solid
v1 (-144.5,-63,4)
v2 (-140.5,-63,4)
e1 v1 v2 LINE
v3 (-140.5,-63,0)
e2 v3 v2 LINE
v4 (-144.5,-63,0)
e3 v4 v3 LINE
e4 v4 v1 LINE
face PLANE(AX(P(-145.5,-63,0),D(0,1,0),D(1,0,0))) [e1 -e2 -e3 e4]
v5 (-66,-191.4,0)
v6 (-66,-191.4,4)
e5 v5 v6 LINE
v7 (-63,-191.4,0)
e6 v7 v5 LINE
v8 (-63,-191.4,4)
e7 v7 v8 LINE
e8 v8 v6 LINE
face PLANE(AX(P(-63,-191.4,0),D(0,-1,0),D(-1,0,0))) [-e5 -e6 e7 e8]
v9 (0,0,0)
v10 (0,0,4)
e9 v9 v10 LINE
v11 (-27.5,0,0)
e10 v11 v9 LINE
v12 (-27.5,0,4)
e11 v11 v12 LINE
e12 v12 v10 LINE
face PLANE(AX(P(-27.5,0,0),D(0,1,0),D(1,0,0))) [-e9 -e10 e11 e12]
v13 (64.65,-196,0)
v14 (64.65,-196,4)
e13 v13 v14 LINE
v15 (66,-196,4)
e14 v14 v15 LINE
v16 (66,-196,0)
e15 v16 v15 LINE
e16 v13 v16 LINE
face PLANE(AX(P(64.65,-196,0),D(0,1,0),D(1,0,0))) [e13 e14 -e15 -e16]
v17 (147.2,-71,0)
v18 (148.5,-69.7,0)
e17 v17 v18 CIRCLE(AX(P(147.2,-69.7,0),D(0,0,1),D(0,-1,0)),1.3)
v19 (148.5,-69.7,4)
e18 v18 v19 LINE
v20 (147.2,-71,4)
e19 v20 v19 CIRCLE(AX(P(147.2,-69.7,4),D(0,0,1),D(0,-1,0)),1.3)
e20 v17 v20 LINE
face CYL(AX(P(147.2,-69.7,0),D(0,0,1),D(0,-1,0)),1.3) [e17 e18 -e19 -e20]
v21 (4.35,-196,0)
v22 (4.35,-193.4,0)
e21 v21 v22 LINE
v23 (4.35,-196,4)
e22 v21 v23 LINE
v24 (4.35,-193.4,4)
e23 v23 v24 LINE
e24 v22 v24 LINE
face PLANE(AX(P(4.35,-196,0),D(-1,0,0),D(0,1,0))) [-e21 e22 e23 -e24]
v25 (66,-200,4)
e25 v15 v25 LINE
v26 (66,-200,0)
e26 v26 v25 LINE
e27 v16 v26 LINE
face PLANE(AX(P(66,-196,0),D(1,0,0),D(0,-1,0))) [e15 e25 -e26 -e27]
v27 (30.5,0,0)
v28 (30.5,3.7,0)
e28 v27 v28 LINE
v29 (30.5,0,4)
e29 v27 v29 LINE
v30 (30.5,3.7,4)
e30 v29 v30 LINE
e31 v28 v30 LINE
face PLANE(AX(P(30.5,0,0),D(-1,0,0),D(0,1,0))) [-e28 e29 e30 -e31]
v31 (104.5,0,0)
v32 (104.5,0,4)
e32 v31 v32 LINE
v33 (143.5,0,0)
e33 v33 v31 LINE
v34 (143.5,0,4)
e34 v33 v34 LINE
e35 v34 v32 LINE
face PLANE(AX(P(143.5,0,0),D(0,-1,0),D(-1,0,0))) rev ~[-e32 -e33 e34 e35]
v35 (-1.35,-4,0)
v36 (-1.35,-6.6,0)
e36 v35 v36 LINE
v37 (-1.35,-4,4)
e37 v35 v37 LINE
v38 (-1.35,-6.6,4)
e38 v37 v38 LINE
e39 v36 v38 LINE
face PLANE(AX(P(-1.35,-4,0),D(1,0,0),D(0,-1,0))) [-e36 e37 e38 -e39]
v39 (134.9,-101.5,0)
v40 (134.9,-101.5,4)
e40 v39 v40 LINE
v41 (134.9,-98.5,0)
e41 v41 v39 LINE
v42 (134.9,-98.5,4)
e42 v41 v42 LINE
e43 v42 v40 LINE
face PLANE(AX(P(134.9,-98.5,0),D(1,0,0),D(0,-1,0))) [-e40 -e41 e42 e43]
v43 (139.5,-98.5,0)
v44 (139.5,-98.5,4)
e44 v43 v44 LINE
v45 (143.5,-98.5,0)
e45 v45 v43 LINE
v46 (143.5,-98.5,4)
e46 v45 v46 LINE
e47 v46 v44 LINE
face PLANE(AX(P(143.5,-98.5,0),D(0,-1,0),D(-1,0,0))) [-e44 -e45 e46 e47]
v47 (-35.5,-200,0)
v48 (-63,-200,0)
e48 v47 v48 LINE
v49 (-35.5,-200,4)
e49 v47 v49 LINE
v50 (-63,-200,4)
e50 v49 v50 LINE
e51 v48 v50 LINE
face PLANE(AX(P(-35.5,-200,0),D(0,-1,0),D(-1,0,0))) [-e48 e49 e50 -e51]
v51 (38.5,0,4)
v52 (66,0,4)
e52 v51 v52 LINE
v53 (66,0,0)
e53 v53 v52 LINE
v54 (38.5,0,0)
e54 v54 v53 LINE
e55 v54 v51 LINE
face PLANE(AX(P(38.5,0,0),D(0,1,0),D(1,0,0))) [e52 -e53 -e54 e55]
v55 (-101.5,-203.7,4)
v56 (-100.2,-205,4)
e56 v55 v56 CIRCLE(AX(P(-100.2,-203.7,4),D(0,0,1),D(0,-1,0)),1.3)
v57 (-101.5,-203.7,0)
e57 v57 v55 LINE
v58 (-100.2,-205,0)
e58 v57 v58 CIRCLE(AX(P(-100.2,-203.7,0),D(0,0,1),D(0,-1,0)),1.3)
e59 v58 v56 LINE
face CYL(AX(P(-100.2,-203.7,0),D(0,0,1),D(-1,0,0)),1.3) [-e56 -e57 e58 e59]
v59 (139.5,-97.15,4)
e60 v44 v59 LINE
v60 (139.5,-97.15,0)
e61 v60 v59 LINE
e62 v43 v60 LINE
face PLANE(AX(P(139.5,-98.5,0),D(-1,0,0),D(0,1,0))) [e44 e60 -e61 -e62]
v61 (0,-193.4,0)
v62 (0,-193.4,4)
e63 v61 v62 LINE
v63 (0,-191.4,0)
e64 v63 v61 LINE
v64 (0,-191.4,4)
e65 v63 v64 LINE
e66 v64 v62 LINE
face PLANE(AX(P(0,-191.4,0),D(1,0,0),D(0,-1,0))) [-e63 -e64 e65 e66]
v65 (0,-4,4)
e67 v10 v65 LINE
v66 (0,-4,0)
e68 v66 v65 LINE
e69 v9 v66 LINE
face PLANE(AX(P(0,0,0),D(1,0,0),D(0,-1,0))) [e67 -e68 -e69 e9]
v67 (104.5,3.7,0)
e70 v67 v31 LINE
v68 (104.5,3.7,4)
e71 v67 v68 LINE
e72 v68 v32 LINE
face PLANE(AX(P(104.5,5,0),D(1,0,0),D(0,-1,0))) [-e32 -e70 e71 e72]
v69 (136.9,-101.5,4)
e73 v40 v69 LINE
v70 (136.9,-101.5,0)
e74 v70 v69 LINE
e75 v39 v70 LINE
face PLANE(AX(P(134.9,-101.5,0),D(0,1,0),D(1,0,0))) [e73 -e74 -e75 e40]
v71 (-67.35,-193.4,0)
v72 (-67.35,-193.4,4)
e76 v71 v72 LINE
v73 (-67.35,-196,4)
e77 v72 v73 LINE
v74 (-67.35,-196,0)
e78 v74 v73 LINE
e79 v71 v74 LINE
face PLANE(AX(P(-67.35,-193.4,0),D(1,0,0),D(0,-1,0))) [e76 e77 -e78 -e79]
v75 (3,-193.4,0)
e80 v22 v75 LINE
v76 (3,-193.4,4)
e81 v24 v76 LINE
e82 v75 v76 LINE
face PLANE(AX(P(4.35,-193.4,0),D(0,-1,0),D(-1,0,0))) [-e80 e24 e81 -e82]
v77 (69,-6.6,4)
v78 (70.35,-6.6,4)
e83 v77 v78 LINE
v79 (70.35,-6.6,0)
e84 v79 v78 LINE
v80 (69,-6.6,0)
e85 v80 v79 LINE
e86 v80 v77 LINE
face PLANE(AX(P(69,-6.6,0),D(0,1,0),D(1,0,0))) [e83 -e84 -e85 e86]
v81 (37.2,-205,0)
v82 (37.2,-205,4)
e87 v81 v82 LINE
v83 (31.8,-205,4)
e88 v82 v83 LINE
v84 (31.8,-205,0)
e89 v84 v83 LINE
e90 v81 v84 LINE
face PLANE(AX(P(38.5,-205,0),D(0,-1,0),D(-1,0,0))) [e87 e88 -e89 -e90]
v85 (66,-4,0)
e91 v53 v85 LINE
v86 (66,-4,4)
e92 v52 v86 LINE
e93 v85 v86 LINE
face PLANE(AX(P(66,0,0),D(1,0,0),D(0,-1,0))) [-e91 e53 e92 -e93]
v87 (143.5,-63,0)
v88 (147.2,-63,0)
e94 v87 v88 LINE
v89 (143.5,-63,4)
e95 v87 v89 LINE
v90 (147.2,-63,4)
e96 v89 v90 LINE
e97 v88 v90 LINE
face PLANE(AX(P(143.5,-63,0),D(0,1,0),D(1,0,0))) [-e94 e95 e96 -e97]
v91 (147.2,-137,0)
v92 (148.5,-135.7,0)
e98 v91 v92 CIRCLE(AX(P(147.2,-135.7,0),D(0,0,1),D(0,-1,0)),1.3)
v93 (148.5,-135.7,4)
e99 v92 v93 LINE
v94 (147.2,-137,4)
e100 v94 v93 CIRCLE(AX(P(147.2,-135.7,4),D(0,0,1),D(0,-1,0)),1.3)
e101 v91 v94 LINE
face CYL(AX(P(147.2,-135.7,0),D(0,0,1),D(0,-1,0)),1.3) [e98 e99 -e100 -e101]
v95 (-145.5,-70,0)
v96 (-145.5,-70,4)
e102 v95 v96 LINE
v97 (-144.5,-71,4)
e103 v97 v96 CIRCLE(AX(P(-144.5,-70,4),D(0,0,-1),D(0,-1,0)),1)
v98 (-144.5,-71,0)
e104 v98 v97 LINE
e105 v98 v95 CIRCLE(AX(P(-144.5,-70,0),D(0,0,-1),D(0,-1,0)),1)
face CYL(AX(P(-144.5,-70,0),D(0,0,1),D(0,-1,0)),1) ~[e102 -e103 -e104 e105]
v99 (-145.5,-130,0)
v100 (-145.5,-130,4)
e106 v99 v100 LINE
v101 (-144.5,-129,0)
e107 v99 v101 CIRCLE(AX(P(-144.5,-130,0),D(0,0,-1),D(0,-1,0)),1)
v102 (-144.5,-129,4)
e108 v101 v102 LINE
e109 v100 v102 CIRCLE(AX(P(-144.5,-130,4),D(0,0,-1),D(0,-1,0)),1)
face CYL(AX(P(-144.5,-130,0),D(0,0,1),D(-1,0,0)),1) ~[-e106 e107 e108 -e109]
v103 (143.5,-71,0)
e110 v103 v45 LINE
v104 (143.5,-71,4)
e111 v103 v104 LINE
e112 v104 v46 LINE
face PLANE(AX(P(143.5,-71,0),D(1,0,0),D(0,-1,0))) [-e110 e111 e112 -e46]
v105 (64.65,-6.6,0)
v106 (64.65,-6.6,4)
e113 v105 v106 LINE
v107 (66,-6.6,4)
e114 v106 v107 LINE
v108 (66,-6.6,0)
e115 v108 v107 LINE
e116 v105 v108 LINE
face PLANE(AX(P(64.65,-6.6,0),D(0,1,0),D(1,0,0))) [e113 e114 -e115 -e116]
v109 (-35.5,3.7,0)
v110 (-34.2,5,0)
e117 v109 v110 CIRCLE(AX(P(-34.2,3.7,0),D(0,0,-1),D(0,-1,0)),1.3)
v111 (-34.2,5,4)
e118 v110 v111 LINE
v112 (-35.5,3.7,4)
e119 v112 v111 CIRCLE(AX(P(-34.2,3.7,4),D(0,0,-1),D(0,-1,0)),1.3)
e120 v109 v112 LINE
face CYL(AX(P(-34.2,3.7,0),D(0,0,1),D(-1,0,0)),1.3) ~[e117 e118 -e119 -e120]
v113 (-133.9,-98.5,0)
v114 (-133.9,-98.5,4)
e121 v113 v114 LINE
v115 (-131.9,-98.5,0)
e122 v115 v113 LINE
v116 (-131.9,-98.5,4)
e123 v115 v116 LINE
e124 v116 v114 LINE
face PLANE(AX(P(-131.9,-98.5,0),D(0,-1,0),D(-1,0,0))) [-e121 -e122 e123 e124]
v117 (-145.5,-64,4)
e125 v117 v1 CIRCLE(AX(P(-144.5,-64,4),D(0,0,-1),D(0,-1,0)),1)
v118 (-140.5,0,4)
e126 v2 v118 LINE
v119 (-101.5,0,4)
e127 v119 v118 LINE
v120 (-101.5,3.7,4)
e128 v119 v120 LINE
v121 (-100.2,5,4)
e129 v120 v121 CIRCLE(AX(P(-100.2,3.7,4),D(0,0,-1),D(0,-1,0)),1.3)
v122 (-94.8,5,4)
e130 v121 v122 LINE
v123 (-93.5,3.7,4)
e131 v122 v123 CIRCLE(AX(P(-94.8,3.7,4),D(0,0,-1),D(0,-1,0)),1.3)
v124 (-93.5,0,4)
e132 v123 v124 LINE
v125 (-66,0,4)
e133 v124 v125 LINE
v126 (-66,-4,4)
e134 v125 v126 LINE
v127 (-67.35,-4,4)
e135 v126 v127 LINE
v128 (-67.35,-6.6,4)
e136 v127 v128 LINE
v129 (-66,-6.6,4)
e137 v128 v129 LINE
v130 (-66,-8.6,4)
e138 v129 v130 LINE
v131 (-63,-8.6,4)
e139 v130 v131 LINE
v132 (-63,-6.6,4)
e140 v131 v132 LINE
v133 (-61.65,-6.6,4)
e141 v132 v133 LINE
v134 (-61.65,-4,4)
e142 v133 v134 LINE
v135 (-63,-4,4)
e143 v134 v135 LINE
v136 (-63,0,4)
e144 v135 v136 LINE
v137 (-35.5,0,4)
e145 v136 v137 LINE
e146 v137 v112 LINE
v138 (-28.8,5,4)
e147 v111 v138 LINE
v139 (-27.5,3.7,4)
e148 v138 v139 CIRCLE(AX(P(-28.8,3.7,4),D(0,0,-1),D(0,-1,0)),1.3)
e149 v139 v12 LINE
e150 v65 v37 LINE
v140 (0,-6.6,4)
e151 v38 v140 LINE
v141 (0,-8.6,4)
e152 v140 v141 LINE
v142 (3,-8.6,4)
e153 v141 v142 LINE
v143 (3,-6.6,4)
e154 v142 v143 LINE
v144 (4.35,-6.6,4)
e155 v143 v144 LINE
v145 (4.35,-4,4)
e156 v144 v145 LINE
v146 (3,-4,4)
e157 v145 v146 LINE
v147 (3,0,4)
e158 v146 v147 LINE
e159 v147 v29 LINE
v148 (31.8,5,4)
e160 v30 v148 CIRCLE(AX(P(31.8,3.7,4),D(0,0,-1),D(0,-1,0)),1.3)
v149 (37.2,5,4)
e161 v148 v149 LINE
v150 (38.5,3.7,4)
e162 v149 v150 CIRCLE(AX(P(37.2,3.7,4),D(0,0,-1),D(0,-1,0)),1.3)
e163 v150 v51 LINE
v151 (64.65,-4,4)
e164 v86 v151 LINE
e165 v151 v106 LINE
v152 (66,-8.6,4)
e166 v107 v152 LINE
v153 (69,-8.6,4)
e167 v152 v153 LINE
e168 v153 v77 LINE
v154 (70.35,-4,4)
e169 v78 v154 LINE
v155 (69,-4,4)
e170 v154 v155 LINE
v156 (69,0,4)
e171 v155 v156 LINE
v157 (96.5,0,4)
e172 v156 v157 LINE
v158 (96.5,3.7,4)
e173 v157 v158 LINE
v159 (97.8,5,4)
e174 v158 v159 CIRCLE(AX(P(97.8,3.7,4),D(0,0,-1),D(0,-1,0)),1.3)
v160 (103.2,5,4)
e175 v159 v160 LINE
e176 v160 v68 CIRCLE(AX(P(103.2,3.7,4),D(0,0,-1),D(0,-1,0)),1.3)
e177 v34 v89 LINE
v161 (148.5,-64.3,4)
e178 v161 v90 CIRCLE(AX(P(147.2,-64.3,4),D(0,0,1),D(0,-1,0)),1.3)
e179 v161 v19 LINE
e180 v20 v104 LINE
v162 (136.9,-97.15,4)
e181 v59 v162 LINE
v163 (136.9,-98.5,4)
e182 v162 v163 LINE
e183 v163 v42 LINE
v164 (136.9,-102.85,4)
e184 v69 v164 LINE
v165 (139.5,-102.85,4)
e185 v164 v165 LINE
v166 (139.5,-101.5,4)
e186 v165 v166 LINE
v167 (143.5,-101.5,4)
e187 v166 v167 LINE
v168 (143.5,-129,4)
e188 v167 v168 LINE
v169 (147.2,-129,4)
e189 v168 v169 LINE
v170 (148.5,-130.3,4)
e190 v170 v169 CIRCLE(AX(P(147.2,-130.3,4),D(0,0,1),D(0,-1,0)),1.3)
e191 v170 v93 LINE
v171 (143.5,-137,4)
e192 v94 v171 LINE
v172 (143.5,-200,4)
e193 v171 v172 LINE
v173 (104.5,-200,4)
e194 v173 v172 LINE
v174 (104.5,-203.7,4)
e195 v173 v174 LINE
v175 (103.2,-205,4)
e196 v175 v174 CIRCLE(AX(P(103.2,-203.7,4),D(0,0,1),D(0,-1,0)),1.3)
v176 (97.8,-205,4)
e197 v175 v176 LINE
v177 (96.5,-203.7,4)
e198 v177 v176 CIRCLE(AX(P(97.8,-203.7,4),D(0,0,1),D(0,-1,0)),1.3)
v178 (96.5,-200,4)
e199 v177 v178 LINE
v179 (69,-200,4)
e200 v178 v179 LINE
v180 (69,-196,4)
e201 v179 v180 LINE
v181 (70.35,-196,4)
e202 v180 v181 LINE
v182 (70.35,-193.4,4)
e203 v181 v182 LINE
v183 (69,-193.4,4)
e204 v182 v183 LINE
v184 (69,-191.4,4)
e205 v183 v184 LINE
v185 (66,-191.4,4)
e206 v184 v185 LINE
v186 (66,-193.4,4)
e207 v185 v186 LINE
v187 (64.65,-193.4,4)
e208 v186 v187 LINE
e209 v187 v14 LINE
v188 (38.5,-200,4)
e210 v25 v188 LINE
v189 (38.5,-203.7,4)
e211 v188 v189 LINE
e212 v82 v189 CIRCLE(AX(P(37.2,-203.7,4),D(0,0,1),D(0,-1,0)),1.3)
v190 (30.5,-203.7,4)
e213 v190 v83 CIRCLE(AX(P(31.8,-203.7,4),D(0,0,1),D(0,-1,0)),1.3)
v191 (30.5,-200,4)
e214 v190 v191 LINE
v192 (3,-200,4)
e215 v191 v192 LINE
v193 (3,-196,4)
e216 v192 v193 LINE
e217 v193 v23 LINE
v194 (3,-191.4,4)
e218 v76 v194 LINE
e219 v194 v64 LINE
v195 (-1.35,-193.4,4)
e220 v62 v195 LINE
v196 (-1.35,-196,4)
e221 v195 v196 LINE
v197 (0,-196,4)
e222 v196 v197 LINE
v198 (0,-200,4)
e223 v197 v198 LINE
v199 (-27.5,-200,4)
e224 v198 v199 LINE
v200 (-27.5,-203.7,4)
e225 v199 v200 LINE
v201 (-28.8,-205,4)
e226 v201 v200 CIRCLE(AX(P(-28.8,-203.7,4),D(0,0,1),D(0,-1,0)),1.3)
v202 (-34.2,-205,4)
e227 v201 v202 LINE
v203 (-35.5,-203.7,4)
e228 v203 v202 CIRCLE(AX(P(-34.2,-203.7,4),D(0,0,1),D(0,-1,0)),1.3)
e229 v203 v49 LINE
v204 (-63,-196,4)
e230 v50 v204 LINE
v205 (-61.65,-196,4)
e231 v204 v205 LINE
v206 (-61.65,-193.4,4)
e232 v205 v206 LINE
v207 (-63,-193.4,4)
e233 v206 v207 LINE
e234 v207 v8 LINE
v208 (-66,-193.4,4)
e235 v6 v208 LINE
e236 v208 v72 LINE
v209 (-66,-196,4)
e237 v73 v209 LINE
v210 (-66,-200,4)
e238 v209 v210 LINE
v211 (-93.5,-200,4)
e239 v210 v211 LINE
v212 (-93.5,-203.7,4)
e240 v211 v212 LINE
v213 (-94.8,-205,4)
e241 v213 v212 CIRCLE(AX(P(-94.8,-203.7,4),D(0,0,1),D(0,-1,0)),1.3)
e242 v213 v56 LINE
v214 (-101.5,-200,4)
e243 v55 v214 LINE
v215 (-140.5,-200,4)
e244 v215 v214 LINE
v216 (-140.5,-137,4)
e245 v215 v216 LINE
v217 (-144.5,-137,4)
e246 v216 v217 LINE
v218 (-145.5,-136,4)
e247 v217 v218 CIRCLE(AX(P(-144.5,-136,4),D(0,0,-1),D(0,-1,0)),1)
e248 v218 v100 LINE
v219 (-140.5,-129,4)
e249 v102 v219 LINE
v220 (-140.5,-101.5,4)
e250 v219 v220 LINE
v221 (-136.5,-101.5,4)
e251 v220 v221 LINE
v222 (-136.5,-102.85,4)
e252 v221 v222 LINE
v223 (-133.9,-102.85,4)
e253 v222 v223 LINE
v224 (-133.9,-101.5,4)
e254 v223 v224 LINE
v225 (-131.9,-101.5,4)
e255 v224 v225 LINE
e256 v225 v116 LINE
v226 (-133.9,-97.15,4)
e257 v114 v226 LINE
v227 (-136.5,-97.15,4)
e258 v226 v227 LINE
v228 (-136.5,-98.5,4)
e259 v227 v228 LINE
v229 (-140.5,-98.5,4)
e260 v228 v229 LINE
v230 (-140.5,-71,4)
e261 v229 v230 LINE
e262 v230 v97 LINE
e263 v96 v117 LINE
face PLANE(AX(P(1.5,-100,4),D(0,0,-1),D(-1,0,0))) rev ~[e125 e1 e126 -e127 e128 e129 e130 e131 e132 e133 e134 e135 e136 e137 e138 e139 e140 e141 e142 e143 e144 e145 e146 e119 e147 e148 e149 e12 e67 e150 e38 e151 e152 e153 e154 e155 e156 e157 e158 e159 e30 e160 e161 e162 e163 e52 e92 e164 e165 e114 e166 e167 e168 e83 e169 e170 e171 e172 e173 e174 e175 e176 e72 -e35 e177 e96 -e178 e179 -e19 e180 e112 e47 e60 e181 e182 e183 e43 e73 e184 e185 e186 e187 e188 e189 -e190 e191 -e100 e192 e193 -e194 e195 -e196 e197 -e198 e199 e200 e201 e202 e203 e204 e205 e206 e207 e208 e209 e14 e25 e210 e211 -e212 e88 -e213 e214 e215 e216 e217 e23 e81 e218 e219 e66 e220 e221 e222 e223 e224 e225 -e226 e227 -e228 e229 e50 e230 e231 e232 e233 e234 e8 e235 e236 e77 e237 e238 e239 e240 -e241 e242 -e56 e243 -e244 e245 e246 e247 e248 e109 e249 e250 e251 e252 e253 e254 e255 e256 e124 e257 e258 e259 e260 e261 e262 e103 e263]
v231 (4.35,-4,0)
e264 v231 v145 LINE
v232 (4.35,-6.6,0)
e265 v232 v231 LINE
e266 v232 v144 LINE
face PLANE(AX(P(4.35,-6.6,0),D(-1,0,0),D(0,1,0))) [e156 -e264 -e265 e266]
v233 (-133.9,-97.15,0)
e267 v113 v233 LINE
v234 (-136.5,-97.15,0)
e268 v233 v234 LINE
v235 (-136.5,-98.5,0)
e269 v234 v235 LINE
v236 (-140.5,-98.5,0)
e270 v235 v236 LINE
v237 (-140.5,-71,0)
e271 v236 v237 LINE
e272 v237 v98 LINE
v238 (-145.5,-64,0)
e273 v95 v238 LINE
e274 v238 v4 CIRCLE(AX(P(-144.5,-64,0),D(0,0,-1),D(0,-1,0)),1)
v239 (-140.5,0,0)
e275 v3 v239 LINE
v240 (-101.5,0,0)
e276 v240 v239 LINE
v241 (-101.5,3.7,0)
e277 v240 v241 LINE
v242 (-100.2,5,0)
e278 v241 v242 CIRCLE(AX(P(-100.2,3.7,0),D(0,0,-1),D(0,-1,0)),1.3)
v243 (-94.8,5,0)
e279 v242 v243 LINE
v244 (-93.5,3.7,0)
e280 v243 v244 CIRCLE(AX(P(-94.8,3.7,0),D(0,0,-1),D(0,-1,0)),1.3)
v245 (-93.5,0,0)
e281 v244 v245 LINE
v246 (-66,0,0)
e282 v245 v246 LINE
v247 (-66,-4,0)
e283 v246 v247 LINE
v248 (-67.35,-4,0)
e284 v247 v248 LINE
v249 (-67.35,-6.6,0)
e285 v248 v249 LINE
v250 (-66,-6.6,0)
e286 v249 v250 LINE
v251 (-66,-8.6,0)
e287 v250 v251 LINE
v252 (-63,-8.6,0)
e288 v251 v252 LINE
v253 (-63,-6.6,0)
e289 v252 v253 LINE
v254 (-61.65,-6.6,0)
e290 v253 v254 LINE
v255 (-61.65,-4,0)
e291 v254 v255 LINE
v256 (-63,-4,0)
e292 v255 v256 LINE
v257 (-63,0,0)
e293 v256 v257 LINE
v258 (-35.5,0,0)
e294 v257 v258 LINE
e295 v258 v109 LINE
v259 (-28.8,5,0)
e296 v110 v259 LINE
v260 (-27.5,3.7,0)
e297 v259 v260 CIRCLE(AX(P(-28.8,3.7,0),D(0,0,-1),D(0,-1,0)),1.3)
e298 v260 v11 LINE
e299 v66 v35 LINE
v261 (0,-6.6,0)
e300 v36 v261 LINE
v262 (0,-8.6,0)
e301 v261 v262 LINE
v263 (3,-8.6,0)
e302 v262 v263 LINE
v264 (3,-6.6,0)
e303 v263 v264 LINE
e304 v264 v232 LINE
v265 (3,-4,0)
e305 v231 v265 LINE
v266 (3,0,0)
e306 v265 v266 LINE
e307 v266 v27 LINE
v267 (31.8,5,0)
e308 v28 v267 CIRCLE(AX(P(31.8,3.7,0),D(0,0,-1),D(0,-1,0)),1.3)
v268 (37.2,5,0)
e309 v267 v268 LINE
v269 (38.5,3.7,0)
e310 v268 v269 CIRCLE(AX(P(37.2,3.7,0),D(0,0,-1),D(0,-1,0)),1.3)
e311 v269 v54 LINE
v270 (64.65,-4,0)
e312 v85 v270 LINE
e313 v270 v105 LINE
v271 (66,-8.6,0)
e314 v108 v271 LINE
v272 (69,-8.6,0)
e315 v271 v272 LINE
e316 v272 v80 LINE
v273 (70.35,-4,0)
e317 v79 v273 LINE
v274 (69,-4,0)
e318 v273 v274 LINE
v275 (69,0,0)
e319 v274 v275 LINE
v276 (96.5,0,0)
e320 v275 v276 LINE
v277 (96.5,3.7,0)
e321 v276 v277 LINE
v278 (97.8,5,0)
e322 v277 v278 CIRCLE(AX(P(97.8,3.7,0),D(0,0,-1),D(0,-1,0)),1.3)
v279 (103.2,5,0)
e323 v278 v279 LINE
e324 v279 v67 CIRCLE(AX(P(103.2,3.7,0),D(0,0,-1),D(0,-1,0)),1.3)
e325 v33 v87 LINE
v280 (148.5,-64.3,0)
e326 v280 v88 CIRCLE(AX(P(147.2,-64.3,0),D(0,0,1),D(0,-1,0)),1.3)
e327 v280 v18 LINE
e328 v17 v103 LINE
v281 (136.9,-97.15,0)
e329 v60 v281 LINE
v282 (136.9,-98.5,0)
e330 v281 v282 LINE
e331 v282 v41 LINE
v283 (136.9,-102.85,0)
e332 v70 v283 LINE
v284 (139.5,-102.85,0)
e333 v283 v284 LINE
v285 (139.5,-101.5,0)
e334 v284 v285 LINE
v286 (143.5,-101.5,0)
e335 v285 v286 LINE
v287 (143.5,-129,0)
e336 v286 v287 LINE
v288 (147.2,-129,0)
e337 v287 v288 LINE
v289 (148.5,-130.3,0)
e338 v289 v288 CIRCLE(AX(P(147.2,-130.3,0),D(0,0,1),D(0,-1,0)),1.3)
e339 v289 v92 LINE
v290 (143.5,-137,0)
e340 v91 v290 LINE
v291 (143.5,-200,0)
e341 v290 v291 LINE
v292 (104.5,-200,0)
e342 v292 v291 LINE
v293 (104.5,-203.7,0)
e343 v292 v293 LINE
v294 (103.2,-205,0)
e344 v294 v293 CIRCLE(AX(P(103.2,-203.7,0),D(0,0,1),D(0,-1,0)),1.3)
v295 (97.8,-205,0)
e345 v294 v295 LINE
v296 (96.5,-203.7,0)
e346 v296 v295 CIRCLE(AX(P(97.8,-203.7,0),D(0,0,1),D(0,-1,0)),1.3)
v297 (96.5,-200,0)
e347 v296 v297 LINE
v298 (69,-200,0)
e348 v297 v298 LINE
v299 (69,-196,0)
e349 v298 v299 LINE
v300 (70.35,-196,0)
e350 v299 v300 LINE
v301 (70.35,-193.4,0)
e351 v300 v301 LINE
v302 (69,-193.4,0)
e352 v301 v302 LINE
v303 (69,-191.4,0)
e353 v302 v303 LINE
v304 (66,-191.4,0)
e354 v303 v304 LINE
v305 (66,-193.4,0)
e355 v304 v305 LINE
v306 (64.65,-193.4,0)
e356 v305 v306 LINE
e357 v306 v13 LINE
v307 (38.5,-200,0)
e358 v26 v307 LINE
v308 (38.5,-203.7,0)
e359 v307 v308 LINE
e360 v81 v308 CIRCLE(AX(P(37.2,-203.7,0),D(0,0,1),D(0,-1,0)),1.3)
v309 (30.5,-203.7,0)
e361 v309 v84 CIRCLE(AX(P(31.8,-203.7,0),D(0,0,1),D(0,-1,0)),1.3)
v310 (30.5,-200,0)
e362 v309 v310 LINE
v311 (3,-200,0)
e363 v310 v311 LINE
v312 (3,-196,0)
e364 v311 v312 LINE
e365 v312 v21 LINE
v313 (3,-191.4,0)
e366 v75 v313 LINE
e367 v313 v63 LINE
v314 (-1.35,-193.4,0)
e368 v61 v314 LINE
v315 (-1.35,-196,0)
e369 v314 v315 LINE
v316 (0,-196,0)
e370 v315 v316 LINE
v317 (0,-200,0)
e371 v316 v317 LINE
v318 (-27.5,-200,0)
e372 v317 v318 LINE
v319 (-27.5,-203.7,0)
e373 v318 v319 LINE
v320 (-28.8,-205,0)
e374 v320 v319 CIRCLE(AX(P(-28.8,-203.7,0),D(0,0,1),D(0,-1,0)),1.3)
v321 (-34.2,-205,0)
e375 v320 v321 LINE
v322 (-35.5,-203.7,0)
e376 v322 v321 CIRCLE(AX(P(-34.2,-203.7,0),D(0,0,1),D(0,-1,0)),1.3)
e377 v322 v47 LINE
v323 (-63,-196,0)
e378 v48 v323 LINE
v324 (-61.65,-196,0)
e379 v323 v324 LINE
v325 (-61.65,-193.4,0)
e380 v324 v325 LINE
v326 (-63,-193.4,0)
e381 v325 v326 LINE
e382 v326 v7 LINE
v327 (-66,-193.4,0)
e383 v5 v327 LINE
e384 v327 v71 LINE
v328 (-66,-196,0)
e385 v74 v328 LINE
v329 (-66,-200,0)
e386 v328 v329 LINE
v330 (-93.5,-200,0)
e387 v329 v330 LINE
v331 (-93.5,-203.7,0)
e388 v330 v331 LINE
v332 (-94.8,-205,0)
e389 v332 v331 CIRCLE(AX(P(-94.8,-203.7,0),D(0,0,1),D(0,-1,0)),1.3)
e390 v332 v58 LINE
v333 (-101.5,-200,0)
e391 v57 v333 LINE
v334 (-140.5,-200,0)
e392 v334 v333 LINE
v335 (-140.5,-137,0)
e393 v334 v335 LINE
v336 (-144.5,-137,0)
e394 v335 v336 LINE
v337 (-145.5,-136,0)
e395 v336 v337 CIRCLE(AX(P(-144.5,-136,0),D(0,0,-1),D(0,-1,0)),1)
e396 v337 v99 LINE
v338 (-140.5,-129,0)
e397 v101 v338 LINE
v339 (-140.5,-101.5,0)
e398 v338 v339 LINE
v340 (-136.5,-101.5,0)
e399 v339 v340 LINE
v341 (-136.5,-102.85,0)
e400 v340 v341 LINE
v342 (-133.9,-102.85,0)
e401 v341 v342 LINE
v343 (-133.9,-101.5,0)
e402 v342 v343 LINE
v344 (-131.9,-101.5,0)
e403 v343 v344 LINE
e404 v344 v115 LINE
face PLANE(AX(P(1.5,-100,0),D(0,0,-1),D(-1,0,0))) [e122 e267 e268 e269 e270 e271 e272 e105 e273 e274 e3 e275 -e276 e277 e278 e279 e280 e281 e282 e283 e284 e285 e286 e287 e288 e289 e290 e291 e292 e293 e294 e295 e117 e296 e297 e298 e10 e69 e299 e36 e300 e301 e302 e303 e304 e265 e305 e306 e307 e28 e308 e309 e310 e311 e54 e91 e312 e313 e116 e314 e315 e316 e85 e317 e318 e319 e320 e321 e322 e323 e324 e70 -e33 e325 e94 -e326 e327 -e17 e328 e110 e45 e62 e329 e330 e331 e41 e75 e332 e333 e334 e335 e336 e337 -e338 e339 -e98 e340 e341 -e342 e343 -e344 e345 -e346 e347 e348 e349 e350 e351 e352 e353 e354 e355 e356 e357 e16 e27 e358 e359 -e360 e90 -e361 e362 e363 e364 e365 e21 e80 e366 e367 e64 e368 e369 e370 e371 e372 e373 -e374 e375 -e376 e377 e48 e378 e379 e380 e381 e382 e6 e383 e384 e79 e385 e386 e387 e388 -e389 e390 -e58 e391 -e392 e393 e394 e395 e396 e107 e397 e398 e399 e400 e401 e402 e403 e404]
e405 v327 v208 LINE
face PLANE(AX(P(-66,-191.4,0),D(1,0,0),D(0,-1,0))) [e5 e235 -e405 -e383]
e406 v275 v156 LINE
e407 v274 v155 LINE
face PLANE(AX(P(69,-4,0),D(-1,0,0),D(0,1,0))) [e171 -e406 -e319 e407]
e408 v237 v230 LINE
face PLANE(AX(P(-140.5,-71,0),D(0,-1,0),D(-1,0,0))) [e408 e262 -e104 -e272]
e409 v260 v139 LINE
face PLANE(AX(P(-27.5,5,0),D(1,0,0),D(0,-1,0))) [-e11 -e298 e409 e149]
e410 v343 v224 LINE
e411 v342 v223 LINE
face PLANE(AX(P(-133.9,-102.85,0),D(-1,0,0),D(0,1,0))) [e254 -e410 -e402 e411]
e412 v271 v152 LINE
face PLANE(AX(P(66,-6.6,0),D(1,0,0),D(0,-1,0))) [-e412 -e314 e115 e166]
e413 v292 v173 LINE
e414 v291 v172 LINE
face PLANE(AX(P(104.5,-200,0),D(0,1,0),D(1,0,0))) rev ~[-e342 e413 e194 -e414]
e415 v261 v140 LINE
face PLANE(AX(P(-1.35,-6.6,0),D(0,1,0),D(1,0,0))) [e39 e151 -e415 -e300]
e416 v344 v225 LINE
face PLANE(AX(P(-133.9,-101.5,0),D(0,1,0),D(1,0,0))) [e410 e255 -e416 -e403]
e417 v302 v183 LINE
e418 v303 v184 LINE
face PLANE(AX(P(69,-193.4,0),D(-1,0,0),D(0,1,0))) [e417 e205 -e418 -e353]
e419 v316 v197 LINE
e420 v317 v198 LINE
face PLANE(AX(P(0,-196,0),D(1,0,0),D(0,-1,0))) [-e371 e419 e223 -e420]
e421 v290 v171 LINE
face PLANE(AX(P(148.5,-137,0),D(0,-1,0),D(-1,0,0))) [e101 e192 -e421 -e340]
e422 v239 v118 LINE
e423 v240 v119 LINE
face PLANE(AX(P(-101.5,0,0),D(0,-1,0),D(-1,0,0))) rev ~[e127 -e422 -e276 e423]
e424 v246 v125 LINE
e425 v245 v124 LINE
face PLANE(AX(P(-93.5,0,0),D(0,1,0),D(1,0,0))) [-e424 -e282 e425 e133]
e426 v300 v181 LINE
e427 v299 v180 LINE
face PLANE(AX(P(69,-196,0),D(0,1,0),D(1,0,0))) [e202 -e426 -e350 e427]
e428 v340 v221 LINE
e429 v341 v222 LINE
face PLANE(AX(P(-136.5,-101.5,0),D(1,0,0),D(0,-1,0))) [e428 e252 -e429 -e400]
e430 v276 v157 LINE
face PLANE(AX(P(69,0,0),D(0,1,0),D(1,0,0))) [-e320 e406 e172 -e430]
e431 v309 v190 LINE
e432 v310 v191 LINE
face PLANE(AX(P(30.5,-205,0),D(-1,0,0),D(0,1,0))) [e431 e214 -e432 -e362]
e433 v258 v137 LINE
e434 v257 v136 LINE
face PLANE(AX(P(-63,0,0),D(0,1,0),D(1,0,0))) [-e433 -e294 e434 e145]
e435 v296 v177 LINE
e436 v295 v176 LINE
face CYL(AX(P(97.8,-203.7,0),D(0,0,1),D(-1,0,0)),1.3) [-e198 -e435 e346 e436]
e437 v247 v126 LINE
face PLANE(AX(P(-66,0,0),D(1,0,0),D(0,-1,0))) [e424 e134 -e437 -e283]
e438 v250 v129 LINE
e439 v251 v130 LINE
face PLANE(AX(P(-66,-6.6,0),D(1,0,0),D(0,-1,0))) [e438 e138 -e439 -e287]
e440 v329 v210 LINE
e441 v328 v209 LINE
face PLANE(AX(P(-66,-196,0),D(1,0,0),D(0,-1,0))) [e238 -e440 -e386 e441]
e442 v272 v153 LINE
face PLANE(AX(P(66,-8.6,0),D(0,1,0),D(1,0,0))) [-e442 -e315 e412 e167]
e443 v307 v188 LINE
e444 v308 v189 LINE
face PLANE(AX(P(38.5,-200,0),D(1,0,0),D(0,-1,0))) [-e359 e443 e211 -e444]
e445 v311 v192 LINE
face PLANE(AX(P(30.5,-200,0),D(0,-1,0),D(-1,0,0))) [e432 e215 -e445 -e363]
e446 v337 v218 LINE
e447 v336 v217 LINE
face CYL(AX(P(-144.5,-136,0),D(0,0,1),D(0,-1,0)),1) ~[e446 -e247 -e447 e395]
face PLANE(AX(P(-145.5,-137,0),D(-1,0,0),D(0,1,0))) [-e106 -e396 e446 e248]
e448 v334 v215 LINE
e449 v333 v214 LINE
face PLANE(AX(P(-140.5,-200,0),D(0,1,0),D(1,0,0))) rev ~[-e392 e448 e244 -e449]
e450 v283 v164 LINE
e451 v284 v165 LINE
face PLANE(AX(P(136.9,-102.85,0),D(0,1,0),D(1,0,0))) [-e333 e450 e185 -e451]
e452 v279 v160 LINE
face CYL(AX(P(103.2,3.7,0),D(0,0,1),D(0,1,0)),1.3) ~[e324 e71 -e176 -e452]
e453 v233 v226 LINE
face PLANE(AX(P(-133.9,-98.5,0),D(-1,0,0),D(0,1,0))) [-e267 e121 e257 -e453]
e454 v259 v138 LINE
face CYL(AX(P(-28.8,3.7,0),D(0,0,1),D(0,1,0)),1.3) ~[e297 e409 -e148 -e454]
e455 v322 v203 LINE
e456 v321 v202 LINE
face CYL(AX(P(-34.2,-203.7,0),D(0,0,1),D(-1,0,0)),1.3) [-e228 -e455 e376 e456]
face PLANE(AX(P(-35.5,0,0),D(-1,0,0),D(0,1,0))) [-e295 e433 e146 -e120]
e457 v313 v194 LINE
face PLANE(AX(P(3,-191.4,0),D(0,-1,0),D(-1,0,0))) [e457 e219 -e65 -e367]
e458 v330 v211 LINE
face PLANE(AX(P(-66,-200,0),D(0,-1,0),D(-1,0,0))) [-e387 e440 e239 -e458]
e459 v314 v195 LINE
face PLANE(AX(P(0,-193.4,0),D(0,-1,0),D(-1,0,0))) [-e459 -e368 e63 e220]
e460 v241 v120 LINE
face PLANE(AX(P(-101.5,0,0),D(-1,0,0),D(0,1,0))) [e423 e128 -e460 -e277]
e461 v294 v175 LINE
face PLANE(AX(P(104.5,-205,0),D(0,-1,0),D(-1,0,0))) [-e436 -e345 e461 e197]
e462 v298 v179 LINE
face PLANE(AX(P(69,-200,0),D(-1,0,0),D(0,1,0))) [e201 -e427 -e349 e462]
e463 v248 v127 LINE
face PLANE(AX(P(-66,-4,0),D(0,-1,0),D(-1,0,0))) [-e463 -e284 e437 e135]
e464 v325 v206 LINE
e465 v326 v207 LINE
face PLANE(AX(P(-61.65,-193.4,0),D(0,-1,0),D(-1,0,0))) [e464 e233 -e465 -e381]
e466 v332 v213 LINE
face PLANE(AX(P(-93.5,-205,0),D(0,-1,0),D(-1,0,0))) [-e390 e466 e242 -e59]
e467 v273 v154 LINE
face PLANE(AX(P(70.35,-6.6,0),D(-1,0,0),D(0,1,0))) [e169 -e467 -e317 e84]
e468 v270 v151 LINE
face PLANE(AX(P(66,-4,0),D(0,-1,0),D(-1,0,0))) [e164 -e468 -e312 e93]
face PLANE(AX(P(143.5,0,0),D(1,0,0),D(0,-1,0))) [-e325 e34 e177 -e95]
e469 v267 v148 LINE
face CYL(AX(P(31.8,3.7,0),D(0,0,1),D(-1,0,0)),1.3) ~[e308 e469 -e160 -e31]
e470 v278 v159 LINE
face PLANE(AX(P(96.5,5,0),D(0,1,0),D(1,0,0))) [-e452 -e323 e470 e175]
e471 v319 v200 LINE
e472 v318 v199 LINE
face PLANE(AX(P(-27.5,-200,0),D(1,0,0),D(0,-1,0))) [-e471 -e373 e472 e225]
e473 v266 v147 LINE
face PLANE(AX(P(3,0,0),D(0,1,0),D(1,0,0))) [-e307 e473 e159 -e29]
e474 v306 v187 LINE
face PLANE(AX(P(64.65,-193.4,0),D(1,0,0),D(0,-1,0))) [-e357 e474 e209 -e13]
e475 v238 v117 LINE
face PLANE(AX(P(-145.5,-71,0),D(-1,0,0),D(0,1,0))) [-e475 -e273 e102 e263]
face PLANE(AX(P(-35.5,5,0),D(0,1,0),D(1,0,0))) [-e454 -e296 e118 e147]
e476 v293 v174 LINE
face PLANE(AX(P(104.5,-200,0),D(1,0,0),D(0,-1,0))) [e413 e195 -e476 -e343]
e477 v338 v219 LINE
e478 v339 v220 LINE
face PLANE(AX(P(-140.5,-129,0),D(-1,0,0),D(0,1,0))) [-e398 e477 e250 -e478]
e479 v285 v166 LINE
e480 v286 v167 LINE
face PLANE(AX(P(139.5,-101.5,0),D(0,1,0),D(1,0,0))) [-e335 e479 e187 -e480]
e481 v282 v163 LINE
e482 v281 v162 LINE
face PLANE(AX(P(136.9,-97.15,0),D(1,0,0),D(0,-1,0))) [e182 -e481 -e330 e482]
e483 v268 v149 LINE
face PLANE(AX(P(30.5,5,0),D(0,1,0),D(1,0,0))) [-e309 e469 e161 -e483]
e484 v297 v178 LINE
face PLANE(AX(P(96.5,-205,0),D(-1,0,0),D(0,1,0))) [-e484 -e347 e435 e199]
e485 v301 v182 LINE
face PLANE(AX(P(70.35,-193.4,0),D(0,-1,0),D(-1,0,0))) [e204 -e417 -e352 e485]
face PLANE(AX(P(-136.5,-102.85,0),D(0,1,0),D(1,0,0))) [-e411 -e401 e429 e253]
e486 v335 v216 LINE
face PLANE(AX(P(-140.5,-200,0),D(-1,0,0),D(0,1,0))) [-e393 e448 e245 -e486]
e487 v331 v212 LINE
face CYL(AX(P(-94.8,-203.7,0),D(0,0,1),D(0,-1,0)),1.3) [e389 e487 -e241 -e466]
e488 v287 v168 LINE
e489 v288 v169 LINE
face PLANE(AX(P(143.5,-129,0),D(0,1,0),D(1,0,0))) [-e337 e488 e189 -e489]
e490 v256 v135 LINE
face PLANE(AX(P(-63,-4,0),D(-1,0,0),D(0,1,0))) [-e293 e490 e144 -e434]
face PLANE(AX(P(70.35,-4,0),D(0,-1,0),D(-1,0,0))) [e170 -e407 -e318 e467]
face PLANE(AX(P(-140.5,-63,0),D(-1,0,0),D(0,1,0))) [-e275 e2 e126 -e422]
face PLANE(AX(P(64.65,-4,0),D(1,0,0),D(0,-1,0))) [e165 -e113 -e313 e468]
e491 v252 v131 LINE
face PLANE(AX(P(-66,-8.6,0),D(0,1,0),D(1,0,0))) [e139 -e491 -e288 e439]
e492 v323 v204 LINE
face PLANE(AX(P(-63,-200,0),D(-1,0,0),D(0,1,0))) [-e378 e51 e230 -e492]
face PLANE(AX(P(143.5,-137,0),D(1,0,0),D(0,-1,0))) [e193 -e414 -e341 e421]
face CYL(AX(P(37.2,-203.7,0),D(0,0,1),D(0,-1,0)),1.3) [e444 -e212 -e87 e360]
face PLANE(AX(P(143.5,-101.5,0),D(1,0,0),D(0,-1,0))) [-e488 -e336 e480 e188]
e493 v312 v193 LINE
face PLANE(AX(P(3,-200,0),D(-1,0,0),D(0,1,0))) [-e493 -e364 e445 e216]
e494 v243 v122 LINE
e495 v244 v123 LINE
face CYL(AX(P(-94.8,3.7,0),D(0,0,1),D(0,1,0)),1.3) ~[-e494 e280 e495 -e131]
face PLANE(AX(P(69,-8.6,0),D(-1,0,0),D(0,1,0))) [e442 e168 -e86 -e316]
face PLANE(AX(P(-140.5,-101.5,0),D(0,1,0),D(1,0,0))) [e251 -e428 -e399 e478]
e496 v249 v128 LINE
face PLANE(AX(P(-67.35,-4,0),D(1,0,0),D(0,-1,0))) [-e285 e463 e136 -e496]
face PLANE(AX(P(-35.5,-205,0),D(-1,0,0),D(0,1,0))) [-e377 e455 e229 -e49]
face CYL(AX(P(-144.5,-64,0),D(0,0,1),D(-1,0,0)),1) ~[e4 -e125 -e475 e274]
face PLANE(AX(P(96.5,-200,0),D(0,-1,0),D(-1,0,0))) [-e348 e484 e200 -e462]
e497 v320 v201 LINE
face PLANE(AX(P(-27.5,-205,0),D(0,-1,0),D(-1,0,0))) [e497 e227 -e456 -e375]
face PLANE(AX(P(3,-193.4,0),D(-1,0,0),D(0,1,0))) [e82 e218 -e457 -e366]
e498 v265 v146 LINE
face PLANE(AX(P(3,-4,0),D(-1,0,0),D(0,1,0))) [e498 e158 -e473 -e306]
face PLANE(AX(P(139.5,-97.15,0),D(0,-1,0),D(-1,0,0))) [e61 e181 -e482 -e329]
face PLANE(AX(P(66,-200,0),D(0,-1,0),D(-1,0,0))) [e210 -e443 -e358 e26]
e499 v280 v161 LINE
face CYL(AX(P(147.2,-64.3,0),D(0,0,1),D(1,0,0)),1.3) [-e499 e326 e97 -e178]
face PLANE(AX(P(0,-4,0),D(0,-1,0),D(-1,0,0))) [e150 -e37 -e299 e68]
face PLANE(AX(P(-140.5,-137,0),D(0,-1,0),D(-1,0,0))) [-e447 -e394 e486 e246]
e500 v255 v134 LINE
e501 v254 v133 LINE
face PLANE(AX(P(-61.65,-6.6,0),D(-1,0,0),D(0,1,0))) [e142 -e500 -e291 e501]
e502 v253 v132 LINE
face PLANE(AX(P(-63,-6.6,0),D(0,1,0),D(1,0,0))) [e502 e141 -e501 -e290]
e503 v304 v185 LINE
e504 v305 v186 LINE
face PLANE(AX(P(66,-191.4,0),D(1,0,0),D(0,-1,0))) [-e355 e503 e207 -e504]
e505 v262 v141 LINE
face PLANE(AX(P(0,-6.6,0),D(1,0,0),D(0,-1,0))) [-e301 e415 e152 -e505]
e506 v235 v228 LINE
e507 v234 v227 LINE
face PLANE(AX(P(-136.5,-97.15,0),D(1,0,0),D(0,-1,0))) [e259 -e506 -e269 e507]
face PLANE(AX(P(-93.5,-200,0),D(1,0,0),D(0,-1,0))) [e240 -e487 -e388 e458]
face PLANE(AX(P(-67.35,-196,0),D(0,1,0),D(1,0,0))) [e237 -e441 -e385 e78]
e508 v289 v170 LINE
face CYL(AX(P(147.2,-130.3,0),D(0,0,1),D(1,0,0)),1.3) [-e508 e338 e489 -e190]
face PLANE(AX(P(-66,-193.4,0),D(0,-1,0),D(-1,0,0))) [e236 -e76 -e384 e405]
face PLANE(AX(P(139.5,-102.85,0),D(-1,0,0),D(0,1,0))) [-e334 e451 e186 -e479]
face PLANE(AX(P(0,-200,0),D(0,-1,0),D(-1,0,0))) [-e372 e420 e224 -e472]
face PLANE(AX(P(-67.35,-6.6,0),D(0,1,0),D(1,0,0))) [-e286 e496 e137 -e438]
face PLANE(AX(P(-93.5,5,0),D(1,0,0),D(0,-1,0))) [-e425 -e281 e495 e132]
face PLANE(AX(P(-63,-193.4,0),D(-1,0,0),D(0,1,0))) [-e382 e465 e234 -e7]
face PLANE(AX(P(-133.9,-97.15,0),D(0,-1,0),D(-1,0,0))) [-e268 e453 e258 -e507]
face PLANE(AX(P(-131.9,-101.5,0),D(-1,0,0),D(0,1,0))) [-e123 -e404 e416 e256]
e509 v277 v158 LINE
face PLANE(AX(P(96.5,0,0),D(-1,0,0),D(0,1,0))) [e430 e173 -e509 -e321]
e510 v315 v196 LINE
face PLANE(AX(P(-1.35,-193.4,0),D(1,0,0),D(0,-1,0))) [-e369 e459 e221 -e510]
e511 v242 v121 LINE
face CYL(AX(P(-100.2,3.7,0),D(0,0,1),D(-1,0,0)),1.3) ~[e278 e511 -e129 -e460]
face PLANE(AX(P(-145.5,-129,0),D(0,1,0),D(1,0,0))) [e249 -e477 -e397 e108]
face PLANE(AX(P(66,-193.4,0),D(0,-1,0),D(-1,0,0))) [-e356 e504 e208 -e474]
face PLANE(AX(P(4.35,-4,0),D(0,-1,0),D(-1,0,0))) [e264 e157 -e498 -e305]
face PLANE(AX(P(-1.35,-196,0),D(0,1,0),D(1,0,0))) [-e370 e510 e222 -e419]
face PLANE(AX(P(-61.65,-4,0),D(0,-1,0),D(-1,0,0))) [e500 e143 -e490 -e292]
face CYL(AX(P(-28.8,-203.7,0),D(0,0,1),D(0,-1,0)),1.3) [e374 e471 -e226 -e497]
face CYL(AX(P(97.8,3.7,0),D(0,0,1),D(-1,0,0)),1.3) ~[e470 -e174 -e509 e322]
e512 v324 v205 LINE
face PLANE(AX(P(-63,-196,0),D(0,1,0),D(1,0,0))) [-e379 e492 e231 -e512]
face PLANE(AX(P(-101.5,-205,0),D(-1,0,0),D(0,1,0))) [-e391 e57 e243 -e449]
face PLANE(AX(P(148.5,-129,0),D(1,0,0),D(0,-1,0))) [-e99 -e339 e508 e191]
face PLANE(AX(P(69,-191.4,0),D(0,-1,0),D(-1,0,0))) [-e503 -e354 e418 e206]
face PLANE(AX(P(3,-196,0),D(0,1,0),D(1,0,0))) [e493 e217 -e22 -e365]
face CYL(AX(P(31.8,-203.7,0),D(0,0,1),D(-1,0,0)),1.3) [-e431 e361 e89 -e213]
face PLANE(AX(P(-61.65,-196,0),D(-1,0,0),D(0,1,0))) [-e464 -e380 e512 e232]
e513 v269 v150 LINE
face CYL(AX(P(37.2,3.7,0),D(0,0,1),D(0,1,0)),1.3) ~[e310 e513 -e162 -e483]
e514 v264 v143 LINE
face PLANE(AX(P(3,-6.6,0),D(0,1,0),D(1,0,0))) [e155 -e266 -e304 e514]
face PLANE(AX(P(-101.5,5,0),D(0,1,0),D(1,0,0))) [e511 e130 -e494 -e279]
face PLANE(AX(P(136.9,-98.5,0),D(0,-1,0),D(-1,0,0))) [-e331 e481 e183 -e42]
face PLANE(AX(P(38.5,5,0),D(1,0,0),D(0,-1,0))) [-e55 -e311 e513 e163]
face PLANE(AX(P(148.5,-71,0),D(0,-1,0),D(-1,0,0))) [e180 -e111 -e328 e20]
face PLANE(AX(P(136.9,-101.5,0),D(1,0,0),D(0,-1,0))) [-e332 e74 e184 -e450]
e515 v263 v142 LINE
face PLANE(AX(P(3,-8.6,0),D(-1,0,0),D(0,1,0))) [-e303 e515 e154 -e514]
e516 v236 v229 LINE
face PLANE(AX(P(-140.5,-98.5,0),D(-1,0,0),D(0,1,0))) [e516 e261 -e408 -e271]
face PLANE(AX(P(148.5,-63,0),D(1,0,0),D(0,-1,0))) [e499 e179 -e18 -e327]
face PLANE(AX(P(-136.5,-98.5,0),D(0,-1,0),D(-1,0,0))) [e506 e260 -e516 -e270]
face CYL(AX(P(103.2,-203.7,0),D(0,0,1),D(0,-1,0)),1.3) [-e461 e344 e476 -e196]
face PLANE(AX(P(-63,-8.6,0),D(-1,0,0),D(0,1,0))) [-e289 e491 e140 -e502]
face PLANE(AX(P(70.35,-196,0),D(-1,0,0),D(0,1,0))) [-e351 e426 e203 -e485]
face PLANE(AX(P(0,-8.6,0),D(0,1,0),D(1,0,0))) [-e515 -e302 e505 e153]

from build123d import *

# Parameters (mm, degrees)
EXTRUDE_1_DEPTH = 4
FILLET_1_R      = 1
FILLET_2_R      = 1.3


with BuildPart() as part:
    # 草图1 → 凸台-拉伸1 (new body)
    with BuildSketch(Plane.XY):
        Polygon((0, 0), (0, -4), (-1.35, -4), (-1.35, -6.6), (0, -6.6), (0, -8.6), (3, -8.6), (3, -6.6), (4.35, -6.6), (4.35, -4), (3, -4), (3, 0), (30.5, 0), (30.5, 5), (38.5, 5), (38.5, 0), (66, 0), (66, -4), (64.65, -4), (64.65, -6.6), (66, -6.6), (66, -8.6), (69, -8.6), (69, -6.6), (70.35, -6.6), (70.35, -4), (69, -4), (69, 0), (96.5, 0), (96.5, 5), (104.5, 5), (104.5, 0), (132, 0), (143.5, 0), (143.5, -63), (148.5, -63), (148.5, -71), (143.5, -71), (143.5, -98.5), (139.5, -98.5), (139.5, -97.15), (136.9, -97.15), (136.9, -98.5), (134.9, -98.5), (134.9, -101.5), (136.9, -101.5), (136.9, -102.85), (139.5, -102.85), (139.5, -101.5), (143.5, -101.5), (143.5, -129), (148.5, -129), (148.5, -137), (143.5, -137), (143.5, -200), (132, -200), (104.5, -200), (104.5, -205), (96.5, -205), (96.5, -200), (69, -200), (69, -196), (70.35, -196), (70.35, -193.4), (69, -193.4), (69, -191.4), (66, -191.4), (66, -193.4), (64.65, -193.4), (64.65, -196), (66, -196), (66, -200), (38.5, -200), (38.5, -205), (30.5, -205), (30.5, -200), (3, -200), (3, -196), (4.35, -196), (4.35, -193.4), (3, -193.4), (3, -191.4), (0, -191.4), (0, -193.4), (-1.35, -193.4), (-1.35, -196), (0, -196), (0, -200), (-27.5, -200), (-27.5, -205), (-35.5, -205), (-35.5, -200), (-63, -200), (-63, -196), (-61.65, -196), (-61.65, -193.4), (-63, -193.4), (-63, -191.4), (-66, -191.4), (-66, -193.4), (-67.35, -193.4), (-67.35, -196), (-66, -196), (-66, -200), (-93.5, -200), (-93.5, -205), (-101.5, -205), (-101.5, -200), (-129, -200), (-140.5, -200), (-140.5, -137), (-145.5, -137), (-145.5, -129), (-140.5, -129), (-140.5, -101.5), (-136.5, -101.5), (-136.5, -102.85), (-133.9, -102.85), (-133.9, -101.5), (-131.9, -101.5), (-131.9, -98.5), (-133.9, -98.5), (-133.9, -97.15), (-136.5, -97.15), (-136.5, -98.5), (-140.5, -98.5), (-140.5, -71), (-145.5, -71), (-145.5, -63), (-140.5, -63), (-140.5, 0), (-129, 0), (-101.5, 0), (-101.5, 5), (-93.5, 5), (-93.5, 0), (-66, 0), (-66, -4), (-67.35, -4), (-67.35, -6.6), (-66, -6.6), (-66, -8.6), (-63, -8.6), (-63, -6.6), (-61.65, -6.6), (-61.65, -4), (-63, -4), (-63, 0), (-35.5, 0), (-35.5, 5), (-27.5, 5), (-27.5, 0), align=None)
    extrude(amount=EXTRUDE_1_DEPTH)

    # 圆角1
    fillet_1_edges = [part.edges().sort_by_distance(p)[0] for p in [
        (-145.5, -63, 2),
        (-145.5, -71, 2),
        (-145.5, -129, 2),
        (-145.5, -137, 2),
    ]]
    fillet(fillet_1_edges, radius=FILLET_1_R)

    # 圆角2
    fillet_2_edges = [part.edges().sort_by_distance(p)[0] for p in [
        (38.5, 5, 2),
        (30.5, 5, 2),
        (-27.5, 5, 2),
        (-35.5, 5, 2),
        (-93.5, 5, 2),
        (-101.5, 5, 2),
        (-101.5, -205, 2),
        (-93.5, -205, 2),
        (-35.5, -205, 2),
        (-27.5, -205, 2),
        (30.5, -205, 2),
        (38.5, -205, 2),
        (96.5, -205, 2),
        (104.5, -205, 2),
        (148.5, -137, 2),
        (148.5, -129, 2),
        (148.5, -71, 2),
        (148.5, -63, 2),
        (104.5, 5, 2),
        (96.5, 5, 2),
    ]]
    fillet(fillet_2_edges, radius=FILLET_2_R)


solid = part.part
